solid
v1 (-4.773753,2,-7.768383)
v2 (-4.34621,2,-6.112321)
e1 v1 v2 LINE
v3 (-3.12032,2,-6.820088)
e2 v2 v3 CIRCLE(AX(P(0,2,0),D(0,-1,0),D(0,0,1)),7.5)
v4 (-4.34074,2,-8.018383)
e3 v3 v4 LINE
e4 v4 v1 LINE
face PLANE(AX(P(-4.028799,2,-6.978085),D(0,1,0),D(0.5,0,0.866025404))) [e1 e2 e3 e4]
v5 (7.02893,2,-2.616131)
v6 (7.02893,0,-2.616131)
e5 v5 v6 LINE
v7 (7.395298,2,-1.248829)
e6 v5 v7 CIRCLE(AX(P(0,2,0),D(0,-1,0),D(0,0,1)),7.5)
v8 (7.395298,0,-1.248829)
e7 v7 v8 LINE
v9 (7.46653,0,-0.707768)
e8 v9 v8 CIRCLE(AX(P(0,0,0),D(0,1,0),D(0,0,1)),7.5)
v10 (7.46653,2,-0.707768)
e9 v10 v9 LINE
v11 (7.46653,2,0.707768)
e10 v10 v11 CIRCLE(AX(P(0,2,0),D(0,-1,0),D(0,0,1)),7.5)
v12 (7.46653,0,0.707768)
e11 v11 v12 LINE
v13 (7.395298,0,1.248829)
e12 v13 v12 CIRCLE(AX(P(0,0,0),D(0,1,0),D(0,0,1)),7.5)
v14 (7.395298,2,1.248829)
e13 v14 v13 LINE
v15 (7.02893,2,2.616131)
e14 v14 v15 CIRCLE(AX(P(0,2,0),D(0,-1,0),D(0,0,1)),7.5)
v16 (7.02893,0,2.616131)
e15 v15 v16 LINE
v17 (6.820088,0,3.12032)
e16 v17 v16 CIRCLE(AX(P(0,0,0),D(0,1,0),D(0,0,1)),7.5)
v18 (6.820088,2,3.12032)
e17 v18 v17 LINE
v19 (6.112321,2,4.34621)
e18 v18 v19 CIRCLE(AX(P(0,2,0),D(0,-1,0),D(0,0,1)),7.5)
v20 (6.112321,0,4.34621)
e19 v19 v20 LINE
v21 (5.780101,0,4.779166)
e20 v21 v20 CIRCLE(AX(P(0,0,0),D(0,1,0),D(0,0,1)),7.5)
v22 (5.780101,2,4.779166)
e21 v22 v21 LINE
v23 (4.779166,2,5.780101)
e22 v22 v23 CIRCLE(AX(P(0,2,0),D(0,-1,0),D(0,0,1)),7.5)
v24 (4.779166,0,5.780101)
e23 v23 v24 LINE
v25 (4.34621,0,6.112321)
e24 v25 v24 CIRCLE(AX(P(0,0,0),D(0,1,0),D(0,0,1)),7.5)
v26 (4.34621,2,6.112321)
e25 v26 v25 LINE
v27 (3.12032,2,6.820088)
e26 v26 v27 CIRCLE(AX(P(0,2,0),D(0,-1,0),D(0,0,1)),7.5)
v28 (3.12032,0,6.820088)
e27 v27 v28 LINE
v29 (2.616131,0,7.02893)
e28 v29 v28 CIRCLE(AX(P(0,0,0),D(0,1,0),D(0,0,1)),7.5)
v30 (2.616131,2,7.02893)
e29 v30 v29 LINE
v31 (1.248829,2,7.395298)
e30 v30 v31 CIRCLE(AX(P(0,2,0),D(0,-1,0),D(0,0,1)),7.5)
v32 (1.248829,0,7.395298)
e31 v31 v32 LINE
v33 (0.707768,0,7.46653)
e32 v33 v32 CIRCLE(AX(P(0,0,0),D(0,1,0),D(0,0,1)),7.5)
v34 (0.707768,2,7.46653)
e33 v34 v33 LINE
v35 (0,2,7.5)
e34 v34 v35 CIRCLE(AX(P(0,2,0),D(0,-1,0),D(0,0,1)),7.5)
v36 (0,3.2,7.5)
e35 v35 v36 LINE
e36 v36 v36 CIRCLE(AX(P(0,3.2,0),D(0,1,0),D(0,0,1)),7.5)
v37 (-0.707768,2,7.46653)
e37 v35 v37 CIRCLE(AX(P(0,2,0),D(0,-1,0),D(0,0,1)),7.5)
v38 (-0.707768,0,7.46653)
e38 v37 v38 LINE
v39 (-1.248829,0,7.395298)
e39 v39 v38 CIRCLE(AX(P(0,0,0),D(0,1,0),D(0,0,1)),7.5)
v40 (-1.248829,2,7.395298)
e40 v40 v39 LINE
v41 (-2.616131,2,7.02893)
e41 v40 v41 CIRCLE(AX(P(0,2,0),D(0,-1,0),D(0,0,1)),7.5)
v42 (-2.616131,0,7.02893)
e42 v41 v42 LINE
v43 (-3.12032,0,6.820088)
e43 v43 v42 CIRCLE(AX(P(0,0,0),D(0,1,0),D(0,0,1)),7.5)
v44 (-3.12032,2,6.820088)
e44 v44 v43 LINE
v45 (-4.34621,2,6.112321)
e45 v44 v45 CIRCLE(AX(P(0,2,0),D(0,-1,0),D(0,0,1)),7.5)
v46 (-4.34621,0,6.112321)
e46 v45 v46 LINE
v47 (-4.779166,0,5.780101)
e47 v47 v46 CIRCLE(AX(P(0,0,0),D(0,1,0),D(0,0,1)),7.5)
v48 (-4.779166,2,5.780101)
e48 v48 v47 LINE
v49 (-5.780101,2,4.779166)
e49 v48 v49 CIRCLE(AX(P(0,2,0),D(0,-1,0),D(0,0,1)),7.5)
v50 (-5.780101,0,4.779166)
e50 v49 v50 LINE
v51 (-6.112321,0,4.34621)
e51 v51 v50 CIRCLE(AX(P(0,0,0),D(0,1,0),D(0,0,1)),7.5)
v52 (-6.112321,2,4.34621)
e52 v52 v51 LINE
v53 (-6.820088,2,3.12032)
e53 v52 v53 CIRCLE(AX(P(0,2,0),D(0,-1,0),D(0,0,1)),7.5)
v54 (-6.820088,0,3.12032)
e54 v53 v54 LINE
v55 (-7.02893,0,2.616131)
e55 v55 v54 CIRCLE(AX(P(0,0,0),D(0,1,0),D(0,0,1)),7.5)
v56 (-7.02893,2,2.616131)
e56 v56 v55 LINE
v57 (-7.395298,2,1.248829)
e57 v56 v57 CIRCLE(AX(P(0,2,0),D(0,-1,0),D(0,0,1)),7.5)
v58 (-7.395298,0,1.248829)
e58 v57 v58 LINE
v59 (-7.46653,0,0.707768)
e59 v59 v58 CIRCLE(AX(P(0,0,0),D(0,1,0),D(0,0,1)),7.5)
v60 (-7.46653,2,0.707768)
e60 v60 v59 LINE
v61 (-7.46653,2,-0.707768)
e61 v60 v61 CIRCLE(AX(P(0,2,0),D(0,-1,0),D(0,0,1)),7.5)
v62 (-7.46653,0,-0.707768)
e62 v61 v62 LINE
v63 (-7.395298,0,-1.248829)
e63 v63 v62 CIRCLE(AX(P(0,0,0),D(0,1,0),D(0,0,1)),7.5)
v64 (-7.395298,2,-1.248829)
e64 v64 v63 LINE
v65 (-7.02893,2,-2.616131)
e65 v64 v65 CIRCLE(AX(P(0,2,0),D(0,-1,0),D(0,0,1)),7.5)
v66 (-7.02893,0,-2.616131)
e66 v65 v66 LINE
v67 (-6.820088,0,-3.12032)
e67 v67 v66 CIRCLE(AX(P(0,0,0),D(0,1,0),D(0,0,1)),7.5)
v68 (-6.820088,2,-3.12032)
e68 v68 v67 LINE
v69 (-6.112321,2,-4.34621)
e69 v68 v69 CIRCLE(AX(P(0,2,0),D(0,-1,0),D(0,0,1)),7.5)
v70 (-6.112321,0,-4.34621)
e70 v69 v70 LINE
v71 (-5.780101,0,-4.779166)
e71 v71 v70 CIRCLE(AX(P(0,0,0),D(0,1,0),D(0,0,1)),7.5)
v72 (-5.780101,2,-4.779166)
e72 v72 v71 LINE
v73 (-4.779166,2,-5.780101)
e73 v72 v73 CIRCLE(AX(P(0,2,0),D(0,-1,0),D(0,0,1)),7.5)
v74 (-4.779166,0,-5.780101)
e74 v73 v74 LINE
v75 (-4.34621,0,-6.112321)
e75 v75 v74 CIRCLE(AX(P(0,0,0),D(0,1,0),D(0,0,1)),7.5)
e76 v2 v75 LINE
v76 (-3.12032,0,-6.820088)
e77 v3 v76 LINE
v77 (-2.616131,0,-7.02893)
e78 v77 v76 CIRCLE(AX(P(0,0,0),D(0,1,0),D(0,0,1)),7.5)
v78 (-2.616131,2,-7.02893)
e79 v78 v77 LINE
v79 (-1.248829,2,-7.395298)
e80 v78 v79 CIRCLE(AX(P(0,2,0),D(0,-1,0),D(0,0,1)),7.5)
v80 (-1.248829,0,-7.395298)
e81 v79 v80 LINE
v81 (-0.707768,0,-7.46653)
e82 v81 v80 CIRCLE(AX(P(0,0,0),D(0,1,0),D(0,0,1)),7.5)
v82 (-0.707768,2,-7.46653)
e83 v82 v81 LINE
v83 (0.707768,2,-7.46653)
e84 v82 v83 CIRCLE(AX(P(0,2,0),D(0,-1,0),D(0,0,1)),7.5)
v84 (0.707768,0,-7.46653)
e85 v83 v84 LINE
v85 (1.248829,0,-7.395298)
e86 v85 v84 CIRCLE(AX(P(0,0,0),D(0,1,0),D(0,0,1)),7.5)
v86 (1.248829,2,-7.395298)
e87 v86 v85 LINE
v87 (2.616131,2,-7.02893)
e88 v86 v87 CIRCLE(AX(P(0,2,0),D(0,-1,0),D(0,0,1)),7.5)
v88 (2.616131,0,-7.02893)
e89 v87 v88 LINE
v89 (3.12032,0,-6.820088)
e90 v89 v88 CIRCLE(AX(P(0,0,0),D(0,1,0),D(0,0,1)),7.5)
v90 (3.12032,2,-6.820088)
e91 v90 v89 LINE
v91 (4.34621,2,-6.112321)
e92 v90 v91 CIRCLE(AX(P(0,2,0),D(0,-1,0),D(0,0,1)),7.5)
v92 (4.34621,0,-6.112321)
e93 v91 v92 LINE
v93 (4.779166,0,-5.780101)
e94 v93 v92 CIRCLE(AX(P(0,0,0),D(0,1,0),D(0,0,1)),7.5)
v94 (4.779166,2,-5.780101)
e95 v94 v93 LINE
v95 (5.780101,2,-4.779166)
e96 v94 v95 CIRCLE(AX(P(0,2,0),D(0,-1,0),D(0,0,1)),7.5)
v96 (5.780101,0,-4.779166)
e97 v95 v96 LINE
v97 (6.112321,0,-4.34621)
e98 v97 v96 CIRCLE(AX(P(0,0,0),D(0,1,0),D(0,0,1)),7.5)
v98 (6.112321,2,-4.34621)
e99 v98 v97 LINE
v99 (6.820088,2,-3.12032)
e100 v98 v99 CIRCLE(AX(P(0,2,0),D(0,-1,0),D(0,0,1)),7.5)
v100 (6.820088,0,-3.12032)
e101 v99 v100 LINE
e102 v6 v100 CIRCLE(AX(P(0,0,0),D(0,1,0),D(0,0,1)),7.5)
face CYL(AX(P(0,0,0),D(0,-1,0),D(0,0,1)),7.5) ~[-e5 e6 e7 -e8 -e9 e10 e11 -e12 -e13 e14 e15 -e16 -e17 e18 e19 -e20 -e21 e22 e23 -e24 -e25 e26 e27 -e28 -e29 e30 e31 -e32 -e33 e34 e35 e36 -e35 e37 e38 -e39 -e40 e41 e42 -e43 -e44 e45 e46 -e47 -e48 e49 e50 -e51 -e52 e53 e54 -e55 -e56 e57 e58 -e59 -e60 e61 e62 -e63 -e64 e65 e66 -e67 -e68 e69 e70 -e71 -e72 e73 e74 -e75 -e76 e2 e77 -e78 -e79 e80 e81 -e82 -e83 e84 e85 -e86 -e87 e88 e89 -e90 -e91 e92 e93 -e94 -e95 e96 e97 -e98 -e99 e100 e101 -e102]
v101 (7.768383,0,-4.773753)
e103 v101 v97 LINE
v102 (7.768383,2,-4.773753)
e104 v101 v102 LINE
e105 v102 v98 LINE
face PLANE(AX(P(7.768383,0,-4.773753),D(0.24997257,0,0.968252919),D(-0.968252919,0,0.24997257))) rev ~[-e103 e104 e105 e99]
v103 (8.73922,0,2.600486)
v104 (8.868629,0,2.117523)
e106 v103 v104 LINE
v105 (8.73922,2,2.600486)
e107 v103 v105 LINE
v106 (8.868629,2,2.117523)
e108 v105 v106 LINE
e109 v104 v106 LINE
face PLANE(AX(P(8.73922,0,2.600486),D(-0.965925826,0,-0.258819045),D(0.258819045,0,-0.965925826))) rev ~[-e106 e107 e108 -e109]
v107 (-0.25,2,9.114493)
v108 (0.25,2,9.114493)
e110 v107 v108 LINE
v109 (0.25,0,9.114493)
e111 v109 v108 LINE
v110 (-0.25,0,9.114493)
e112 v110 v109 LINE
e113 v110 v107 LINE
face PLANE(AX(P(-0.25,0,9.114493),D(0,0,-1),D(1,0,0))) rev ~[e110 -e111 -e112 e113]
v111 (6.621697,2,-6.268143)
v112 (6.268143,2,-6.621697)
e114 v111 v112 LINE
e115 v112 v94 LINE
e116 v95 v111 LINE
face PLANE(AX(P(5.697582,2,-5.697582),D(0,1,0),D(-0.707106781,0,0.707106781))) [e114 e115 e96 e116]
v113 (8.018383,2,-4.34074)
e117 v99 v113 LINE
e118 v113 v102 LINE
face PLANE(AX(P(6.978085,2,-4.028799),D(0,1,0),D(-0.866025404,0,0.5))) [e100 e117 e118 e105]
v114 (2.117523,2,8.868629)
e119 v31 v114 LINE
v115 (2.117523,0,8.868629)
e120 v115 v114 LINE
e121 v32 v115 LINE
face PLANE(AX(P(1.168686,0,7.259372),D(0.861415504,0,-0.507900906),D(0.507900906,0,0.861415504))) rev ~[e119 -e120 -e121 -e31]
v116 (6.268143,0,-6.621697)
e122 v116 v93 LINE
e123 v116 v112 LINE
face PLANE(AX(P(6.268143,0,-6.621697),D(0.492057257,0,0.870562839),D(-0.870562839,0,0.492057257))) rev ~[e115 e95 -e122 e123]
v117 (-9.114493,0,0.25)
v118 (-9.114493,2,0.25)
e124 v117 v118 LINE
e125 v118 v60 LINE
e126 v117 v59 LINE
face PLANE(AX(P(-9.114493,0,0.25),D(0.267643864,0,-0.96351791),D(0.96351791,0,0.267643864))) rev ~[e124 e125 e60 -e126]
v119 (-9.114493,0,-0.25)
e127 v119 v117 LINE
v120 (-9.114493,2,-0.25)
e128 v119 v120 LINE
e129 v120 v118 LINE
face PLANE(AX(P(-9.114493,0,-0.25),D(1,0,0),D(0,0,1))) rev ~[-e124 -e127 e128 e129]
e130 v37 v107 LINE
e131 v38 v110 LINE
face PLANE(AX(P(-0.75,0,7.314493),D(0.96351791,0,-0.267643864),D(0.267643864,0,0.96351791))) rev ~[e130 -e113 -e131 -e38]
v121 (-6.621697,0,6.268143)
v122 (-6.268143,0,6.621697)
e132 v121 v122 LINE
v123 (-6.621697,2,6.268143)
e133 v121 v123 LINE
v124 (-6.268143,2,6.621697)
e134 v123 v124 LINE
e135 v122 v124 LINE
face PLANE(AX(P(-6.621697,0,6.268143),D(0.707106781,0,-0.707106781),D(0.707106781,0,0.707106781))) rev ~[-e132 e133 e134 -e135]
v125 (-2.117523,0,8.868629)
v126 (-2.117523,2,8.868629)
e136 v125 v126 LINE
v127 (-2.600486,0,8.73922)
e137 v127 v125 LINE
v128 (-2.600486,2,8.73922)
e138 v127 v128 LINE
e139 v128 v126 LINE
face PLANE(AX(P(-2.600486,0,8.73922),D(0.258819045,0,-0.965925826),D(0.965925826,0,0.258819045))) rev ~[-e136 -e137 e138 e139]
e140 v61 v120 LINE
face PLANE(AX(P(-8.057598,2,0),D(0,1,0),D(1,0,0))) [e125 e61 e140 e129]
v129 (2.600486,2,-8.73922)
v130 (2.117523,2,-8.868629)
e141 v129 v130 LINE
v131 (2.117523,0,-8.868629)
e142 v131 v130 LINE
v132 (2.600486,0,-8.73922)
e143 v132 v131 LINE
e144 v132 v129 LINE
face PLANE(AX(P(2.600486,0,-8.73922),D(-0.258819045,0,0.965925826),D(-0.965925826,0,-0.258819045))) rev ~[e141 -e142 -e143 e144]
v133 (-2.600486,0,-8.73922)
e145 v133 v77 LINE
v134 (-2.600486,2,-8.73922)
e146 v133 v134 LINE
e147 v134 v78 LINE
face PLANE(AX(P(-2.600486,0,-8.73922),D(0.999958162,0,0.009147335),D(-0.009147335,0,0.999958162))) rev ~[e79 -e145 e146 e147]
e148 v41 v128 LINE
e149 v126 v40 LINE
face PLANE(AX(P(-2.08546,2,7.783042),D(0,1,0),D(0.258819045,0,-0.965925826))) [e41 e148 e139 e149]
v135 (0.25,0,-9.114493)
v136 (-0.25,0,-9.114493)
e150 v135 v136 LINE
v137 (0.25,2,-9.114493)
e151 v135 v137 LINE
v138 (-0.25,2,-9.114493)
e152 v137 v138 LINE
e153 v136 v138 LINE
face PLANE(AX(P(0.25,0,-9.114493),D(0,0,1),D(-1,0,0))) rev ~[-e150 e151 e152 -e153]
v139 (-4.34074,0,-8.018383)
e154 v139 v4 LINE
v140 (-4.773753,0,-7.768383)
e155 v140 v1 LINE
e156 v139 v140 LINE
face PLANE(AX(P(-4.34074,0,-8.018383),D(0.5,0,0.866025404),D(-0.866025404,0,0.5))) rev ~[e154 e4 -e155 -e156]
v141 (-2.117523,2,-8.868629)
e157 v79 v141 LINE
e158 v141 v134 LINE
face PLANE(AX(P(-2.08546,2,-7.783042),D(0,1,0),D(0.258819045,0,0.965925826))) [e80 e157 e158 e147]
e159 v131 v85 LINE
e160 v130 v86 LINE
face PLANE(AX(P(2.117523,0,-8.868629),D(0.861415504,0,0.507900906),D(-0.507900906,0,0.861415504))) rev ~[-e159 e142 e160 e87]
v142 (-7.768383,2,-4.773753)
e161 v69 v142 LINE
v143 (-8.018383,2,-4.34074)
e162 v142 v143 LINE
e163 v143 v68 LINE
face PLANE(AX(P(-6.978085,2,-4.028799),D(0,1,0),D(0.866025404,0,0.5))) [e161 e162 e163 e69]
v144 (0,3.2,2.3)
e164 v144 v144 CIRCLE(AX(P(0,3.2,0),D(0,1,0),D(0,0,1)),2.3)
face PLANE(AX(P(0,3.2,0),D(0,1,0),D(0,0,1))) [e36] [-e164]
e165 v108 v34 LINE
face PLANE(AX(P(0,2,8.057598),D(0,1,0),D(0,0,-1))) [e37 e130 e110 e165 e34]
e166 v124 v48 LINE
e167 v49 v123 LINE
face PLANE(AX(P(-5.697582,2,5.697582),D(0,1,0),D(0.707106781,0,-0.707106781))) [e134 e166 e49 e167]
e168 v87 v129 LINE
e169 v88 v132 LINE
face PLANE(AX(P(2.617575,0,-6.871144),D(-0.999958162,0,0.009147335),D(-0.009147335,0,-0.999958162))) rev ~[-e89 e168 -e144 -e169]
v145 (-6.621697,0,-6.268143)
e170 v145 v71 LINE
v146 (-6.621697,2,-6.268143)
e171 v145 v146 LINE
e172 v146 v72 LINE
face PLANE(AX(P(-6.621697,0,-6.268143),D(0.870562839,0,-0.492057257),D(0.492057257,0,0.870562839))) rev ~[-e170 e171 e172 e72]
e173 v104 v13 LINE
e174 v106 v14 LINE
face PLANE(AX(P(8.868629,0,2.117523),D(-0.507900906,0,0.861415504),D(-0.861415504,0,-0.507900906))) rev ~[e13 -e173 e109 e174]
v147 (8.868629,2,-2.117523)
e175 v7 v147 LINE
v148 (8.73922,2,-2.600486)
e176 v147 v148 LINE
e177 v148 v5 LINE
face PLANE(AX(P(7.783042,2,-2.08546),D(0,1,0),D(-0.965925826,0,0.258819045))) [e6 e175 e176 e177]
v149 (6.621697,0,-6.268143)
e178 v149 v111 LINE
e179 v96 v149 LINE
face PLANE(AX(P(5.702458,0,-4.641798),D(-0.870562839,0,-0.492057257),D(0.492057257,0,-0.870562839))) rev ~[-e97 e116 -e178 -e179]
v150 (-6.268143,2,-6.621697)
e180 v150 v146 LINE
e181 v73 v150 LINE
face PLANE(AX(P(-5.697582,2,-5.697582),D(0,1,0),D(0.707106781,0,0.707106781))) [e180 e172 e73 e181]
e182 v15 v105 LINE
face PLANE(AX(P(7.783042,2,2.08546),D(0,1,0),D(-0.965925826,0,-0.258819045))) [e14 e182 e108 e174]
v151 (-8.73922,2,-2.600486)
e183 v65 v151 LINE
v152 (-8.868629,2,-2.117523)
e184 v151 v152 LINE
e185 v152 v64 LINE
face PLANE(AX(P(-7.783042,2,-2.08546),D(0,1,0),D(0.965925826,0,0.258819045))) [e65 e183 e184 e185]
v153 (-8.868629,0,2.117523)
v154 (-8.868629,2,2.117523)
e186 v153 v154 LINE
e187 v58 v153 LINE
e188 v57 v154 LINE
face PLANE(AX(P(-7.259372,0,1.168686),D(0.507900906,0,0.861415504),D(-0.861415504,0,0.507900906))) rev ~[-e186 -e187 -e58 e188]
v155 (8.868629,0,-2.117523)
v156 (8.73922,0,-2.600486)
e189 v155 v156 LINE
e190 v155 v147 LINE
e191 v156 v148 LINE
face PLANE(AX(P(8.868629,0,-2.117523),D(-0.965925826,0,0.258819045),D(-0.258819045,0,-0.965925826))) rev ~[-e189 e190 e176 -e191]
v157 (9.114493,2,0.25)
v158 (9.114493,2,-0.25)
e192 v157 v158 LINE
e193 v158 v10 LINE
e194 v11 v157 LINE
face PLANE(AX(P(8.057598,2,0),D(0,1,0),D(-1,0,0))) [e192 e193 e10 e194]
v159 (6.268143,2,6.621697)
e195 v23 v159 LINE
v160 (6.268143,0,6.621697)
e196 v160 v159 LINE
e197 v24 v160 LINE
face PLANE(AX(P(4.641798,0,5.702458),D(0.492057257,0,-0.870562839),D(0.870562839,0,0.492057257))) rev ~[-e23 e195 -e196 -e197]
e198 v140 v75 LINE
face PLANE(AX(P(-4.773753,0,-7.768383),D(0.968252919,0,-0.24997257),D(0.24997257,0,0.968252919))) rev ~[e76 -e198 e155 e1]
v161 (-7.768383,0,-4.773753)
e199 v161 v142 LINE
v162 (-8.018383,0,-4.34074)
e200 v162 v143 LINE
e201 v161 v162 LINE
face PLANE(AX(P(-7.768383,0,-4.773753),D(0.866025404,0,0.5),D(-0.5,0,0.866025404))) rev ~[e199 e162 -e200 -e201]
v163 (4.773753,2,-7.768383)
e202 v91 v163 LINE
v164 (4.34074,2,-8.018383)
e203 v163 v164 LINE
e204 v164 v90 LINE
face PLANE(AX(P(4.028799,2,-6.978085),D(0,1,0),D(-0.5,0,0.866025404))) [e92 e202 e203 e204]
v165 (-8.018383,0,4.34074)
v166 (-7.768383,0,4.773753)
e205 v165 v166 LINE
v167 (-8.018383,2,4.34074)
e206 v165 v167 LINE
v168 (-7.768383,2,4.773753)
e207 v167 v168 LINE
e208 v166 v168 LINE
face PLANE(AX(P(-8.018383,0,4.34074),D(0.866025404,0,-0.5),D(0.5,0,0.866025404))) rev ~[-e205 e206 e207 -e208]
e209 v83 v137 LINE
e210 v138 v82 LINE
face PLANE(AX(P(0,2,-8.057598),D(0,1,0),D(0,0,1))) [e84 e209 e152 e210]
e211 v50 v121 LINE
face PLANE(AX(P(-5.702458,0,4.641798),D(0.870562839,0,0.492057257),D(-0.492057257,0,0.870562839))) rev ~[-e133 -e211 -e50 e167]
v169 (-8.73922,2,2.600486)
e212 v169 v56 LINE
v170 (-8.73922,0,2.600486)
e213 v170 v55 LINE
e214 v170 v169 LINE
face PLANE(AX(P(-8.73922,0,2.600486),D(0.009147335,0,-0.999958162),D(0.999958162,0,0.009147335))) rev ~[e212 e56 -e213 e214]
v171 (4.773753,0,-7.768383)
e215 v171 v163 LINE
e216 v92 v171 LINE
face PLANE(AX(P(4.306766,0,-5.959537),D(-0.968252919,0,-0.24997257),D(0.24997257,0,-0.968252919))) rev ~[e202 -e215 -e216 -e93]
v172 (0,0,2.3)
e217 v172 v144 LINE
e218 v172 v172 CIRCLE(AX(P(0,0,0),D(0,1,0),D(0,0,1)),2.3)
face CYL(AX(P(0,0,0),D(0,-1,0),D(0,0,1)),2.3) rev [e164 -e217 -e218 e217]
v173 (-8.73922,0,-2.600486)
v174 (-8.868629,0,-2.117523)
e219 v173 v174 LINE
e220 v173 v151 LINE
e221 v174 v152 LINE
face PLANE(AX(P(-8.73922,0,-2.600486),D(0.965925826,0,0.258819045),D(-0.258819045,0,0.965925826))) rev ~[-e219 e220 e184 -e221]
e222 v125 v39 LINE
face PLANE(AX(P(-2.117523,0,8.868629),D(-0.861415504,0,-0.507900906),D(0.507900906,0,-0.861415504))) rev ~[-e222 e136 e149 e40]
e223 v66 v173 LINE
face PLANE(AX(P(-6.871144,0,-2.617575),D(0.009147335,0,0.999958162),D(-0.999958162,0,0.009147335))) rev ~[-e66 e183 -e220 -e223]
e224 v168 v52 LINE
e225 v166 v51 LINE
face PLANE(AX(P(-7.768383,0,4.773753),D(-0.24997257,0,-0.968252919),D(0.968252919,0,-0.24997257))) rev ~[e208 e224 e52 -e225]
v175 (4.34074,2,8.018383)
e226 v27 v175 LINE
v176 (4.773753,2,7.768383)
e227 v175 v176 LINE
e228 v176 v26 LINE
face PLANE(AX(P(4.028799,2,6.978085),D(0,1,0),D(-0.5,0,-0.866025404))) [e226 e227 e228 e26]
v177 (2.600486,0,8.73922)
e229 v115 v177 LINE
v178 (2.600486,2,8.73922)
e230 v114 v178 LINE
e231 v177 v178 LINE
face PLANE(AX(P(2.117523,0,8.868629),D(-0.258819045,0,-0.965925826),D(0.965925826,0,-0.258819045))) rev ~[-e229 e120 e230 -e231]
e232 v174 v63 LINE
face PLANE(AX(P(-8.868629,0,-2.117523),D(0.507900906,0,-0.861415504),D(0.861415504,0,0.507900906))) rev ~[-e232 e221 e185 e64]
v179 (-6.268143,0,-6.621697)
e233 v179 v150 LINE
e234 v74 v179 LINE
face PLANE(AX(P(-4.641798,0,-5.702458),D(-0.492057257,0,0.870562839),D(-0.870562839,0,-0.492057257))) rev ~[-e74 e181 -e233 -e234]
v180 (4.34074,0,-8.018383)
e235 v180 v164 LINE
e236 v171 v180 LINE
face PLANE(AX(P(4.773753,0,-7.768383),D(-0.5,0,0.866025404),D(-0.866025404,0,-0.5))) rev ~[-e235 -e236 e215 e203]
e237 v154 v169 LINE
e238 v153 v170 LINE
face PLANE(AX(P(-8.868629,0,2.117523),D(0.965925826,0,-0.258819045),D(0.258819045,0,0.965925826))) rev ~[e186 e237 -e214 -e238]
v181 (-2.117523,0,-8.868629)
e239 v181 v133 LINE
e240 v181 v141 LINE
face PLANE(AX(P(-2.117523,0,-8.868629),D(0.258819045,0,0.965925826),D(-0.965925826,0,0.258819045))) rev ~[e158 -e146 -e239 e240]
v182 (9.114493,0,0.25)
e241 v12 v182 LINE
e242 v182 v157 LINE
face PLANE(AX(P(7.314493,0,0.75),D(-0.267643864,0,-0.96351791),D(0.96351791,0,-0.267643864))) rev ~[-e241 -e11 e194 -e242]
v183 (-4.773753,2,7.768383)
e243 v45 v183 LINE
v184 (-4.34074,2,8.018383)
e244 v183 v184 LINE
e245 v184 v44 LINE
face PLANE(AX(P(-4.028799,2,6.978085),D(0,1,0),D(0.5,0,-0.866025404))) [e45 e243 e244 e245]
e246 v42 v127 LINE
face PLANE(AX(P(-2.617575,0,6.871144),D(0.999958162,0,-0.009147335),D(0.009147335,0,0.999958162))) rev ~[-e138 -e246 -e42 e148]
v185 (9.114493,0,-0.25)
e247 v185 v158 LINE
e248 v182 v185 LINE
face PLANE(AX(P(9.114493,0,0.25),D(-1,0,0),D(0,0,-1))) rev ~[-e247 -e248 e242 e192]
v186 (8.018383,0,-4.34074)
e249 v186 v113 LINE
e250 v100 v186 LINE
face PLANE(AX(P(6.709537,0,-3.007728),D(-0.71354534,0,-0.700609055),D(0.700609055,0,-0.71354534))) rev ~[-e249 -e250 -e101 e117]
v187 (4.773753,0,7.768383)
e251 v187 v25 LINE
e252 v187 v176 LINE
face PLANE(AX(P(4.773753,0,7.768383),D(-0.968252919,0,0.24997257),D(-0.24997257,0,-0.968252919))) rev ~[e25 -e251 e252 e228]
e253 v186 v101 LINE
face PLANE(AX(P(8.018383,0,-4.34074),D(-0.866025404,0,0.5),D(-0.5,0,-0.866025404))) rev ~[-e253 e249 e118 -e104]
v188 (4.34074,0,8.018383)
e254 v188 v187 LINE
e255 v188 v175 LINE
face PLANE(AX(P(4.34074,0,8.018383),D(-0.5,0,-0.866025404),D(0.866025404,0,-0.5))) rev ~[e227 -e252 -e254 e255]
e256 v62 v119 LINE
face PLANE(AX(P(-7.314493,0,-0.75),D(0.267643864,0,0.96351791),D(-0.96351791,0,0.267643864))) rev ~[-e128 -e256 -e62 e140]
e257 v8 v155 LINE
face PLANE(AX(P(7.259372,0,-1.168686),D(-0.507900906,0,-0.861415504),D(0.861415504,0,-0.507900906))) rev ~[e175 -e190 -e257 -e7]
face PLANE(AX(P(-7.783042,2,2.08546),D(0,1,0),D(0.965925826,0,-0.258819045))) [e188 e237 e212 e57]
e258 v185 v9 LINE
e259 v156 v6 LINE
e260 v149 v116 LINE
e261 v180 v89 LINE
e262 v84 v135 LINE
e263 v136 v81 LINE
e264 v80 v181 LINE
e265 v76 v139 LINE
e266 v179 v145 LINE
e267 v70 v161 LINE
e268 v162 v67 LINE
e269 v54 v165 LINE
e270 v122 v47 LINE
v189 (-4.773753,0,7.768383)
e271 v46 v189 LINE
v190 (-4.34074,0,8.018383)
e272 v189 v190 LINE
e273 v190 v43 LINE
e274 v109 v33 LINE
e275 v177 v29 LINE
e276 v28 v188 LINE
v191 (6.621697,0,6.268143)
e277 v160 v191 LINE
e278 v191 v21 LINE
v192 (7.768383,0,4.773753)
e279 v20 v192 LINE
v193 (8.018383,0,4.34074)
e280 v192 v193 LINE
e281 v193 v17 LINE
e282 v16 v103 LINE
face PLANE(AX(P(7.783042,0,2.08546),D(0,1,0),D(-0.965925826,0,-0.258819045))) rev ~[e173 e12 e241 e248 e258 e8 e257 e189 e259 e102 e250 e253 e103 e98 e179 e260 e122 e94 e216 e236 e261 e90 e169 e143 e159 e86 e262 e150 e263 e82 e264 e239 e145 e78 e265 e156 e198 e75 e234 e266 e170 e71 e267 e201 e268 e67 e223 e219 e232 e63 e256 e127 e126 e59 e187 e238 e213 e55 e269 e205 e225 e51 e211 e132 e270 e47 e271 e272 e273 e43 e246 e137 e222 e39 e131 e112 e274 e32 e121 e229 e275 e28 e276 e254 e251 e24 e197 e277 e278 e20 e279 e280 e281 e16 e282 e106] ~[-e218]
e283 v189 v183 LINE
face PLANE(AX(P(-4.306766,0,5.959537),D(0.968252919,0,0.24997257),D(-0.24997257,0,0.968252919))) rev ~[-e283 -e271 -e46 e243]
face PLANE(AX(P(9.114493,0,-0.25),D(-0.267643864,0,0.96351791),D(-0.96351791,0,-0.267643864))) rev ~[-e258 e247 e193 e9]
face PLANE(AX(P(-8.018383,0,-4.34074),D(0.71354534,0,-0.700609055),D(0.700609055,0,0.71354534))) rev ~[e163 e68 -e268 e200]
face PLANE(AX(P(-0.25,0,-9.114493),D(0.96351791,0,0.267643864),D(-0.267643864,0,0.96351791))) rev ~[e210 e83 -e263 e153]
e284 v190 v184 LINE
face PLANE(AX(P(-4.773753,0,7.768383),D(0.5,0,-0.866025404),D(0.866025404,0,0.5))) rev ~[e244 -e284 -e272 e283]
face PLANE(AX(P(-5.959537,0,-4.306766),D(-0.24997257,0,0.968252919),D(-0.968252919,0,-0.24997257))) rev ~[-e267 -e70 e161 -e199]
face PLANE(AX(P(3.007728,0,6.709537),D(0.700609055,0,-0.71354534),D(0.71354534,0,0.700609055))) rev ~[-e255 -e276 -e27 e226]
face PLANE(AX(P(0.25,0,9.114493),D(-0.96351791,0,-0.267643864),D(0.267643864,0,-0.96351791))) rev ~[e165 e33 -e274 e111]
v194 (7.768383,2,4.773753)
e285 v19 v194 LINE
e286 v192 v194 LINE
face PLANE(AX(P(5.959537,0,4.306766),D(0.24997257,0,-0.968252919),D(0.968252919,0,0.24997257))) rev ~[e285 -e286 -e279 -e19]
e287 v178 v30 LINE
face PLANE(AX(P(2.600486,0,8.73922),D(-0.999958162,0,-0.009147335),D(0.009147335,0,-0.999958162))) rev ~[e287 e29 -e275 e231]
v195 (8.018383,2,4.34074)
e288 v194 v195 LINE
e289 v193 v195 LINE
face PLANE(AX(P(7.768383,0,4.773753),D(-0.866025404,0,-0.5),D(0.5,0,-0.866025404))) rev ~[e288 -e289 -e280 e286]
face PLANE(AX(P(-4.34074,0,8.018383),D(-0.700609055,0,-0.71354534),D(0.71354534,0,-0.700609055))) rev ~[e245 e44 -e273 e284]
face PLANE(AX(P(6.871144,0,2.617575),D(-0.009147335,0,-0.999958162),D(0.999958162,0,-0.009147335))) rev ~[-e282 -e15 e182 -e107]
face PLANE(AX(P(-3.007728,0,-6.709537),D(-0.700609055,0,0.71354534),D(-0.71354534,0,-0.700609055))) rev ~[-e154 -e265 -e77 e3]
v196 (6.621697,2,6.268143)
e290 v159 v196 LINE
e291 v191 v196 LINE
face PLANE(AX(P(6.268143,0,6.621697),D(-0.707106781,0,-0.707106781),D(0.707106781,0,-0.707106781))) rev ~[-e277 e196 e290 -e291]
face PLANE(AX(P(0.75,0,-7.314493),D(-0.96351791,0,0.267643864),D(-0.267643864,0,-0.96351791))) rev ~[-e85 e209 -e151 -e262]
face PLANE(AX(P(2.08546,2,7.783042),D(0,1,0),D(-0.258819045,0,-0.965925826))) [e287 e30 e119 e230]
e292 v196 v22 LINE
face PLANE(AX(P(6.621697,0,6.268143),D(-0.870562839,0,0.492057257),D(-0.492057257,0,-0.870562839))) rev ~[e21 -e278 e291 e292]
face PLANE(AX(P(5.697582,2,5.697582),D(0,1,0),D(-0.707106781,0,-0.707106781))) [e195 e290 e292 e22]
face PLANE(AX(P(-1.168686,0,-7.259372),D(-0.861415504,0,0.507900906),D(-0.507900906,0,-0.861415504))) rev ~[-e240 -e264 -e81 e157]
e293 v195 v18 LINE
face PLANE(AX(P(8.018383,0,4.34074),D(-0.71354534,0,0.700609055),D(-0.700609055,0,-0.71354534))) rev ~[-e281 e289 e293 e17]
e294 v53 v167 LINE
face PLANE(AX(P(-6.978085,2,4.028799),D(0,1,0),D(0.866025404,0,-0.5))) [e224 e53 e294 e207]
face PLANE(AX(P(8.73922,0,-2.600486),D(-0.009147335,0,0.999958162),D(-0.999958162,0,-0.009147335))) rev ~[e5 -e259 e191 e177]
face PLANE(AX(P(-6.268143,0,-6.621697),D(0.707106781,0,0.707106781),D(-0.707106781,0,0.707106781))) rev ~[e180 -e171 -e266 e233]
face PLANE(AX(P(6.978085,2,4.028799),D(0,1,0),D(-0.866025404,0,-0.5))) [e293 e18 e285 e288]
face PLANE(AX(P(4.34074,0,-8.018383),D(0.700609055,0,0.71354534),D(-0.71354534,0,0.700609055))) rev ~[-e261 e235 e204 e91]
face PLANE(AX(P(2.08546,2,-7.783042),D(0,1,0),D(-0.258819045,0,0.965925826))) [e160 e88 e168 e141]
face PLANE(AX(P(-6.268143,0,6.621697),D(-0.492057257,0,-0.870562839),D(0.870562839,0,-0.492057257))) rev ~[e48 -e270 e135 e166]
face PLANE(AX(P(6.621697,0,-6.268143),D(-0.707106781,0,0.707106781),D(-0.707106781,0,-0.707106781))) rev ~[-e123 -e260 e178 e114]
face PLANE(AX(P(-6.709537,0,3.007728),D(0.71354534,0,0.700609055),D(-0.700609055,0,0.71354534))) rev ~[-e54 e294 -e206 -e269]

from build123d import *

# Parameters (mm, degrees)
SKETCH1_R           = 7.5
SKETCH1_R_2         = 2.3
BOSS_EXTRUDE1_DEPTH = 3.2
BOSS_EXTRUDE2_DEPTH = 2
CIRPATTERN1_COUNT   = 24


with BuildPart() as part:
    # Sketch1 → Boss-Extrude1 (new body)
    with BuildSketch(Plane(origin=(0, 0, 0), x_dir=(1, 0, 0), z_dir=(0, 1, 0))):
        with Locations(Location((0, 0, 0), (0, 0, 270))):
            Circle(SKETCH1_R)
        with Locations(Location((0, 0, 0), (0, 0, 270))):
            Circle(SKETCH1_R_2, mode=Mode.SUBTRACT)
    extrude(amount=BOSS_EXTRUDE1_DEPTH)

    # Sketch2 → Boss-Extrude2 (add)
    with BuildSketch(Plane.XZ):
        Polygon((9.114493261, 0.25), (9.114493261, -0.25), (7.314493261, -0.75), (7.314493261, 0.75), align=None)
    boss_extrude2 = extrude(amount=-BOSS_EXTRUDE2_DEPTH)

    # CirPattern1: Boss-Extrude2 ×24 about axis
    cirpattern1_axis = Axis((0, 0, 0), (0, 1, 0))
    for i in range(1, CIRPATTERN1_COUNT):
        add(boss_extrude2.rotate(cirpattern1_axis, i * 360 / CIRPATTERN1_COUNT))


solid = part.part
